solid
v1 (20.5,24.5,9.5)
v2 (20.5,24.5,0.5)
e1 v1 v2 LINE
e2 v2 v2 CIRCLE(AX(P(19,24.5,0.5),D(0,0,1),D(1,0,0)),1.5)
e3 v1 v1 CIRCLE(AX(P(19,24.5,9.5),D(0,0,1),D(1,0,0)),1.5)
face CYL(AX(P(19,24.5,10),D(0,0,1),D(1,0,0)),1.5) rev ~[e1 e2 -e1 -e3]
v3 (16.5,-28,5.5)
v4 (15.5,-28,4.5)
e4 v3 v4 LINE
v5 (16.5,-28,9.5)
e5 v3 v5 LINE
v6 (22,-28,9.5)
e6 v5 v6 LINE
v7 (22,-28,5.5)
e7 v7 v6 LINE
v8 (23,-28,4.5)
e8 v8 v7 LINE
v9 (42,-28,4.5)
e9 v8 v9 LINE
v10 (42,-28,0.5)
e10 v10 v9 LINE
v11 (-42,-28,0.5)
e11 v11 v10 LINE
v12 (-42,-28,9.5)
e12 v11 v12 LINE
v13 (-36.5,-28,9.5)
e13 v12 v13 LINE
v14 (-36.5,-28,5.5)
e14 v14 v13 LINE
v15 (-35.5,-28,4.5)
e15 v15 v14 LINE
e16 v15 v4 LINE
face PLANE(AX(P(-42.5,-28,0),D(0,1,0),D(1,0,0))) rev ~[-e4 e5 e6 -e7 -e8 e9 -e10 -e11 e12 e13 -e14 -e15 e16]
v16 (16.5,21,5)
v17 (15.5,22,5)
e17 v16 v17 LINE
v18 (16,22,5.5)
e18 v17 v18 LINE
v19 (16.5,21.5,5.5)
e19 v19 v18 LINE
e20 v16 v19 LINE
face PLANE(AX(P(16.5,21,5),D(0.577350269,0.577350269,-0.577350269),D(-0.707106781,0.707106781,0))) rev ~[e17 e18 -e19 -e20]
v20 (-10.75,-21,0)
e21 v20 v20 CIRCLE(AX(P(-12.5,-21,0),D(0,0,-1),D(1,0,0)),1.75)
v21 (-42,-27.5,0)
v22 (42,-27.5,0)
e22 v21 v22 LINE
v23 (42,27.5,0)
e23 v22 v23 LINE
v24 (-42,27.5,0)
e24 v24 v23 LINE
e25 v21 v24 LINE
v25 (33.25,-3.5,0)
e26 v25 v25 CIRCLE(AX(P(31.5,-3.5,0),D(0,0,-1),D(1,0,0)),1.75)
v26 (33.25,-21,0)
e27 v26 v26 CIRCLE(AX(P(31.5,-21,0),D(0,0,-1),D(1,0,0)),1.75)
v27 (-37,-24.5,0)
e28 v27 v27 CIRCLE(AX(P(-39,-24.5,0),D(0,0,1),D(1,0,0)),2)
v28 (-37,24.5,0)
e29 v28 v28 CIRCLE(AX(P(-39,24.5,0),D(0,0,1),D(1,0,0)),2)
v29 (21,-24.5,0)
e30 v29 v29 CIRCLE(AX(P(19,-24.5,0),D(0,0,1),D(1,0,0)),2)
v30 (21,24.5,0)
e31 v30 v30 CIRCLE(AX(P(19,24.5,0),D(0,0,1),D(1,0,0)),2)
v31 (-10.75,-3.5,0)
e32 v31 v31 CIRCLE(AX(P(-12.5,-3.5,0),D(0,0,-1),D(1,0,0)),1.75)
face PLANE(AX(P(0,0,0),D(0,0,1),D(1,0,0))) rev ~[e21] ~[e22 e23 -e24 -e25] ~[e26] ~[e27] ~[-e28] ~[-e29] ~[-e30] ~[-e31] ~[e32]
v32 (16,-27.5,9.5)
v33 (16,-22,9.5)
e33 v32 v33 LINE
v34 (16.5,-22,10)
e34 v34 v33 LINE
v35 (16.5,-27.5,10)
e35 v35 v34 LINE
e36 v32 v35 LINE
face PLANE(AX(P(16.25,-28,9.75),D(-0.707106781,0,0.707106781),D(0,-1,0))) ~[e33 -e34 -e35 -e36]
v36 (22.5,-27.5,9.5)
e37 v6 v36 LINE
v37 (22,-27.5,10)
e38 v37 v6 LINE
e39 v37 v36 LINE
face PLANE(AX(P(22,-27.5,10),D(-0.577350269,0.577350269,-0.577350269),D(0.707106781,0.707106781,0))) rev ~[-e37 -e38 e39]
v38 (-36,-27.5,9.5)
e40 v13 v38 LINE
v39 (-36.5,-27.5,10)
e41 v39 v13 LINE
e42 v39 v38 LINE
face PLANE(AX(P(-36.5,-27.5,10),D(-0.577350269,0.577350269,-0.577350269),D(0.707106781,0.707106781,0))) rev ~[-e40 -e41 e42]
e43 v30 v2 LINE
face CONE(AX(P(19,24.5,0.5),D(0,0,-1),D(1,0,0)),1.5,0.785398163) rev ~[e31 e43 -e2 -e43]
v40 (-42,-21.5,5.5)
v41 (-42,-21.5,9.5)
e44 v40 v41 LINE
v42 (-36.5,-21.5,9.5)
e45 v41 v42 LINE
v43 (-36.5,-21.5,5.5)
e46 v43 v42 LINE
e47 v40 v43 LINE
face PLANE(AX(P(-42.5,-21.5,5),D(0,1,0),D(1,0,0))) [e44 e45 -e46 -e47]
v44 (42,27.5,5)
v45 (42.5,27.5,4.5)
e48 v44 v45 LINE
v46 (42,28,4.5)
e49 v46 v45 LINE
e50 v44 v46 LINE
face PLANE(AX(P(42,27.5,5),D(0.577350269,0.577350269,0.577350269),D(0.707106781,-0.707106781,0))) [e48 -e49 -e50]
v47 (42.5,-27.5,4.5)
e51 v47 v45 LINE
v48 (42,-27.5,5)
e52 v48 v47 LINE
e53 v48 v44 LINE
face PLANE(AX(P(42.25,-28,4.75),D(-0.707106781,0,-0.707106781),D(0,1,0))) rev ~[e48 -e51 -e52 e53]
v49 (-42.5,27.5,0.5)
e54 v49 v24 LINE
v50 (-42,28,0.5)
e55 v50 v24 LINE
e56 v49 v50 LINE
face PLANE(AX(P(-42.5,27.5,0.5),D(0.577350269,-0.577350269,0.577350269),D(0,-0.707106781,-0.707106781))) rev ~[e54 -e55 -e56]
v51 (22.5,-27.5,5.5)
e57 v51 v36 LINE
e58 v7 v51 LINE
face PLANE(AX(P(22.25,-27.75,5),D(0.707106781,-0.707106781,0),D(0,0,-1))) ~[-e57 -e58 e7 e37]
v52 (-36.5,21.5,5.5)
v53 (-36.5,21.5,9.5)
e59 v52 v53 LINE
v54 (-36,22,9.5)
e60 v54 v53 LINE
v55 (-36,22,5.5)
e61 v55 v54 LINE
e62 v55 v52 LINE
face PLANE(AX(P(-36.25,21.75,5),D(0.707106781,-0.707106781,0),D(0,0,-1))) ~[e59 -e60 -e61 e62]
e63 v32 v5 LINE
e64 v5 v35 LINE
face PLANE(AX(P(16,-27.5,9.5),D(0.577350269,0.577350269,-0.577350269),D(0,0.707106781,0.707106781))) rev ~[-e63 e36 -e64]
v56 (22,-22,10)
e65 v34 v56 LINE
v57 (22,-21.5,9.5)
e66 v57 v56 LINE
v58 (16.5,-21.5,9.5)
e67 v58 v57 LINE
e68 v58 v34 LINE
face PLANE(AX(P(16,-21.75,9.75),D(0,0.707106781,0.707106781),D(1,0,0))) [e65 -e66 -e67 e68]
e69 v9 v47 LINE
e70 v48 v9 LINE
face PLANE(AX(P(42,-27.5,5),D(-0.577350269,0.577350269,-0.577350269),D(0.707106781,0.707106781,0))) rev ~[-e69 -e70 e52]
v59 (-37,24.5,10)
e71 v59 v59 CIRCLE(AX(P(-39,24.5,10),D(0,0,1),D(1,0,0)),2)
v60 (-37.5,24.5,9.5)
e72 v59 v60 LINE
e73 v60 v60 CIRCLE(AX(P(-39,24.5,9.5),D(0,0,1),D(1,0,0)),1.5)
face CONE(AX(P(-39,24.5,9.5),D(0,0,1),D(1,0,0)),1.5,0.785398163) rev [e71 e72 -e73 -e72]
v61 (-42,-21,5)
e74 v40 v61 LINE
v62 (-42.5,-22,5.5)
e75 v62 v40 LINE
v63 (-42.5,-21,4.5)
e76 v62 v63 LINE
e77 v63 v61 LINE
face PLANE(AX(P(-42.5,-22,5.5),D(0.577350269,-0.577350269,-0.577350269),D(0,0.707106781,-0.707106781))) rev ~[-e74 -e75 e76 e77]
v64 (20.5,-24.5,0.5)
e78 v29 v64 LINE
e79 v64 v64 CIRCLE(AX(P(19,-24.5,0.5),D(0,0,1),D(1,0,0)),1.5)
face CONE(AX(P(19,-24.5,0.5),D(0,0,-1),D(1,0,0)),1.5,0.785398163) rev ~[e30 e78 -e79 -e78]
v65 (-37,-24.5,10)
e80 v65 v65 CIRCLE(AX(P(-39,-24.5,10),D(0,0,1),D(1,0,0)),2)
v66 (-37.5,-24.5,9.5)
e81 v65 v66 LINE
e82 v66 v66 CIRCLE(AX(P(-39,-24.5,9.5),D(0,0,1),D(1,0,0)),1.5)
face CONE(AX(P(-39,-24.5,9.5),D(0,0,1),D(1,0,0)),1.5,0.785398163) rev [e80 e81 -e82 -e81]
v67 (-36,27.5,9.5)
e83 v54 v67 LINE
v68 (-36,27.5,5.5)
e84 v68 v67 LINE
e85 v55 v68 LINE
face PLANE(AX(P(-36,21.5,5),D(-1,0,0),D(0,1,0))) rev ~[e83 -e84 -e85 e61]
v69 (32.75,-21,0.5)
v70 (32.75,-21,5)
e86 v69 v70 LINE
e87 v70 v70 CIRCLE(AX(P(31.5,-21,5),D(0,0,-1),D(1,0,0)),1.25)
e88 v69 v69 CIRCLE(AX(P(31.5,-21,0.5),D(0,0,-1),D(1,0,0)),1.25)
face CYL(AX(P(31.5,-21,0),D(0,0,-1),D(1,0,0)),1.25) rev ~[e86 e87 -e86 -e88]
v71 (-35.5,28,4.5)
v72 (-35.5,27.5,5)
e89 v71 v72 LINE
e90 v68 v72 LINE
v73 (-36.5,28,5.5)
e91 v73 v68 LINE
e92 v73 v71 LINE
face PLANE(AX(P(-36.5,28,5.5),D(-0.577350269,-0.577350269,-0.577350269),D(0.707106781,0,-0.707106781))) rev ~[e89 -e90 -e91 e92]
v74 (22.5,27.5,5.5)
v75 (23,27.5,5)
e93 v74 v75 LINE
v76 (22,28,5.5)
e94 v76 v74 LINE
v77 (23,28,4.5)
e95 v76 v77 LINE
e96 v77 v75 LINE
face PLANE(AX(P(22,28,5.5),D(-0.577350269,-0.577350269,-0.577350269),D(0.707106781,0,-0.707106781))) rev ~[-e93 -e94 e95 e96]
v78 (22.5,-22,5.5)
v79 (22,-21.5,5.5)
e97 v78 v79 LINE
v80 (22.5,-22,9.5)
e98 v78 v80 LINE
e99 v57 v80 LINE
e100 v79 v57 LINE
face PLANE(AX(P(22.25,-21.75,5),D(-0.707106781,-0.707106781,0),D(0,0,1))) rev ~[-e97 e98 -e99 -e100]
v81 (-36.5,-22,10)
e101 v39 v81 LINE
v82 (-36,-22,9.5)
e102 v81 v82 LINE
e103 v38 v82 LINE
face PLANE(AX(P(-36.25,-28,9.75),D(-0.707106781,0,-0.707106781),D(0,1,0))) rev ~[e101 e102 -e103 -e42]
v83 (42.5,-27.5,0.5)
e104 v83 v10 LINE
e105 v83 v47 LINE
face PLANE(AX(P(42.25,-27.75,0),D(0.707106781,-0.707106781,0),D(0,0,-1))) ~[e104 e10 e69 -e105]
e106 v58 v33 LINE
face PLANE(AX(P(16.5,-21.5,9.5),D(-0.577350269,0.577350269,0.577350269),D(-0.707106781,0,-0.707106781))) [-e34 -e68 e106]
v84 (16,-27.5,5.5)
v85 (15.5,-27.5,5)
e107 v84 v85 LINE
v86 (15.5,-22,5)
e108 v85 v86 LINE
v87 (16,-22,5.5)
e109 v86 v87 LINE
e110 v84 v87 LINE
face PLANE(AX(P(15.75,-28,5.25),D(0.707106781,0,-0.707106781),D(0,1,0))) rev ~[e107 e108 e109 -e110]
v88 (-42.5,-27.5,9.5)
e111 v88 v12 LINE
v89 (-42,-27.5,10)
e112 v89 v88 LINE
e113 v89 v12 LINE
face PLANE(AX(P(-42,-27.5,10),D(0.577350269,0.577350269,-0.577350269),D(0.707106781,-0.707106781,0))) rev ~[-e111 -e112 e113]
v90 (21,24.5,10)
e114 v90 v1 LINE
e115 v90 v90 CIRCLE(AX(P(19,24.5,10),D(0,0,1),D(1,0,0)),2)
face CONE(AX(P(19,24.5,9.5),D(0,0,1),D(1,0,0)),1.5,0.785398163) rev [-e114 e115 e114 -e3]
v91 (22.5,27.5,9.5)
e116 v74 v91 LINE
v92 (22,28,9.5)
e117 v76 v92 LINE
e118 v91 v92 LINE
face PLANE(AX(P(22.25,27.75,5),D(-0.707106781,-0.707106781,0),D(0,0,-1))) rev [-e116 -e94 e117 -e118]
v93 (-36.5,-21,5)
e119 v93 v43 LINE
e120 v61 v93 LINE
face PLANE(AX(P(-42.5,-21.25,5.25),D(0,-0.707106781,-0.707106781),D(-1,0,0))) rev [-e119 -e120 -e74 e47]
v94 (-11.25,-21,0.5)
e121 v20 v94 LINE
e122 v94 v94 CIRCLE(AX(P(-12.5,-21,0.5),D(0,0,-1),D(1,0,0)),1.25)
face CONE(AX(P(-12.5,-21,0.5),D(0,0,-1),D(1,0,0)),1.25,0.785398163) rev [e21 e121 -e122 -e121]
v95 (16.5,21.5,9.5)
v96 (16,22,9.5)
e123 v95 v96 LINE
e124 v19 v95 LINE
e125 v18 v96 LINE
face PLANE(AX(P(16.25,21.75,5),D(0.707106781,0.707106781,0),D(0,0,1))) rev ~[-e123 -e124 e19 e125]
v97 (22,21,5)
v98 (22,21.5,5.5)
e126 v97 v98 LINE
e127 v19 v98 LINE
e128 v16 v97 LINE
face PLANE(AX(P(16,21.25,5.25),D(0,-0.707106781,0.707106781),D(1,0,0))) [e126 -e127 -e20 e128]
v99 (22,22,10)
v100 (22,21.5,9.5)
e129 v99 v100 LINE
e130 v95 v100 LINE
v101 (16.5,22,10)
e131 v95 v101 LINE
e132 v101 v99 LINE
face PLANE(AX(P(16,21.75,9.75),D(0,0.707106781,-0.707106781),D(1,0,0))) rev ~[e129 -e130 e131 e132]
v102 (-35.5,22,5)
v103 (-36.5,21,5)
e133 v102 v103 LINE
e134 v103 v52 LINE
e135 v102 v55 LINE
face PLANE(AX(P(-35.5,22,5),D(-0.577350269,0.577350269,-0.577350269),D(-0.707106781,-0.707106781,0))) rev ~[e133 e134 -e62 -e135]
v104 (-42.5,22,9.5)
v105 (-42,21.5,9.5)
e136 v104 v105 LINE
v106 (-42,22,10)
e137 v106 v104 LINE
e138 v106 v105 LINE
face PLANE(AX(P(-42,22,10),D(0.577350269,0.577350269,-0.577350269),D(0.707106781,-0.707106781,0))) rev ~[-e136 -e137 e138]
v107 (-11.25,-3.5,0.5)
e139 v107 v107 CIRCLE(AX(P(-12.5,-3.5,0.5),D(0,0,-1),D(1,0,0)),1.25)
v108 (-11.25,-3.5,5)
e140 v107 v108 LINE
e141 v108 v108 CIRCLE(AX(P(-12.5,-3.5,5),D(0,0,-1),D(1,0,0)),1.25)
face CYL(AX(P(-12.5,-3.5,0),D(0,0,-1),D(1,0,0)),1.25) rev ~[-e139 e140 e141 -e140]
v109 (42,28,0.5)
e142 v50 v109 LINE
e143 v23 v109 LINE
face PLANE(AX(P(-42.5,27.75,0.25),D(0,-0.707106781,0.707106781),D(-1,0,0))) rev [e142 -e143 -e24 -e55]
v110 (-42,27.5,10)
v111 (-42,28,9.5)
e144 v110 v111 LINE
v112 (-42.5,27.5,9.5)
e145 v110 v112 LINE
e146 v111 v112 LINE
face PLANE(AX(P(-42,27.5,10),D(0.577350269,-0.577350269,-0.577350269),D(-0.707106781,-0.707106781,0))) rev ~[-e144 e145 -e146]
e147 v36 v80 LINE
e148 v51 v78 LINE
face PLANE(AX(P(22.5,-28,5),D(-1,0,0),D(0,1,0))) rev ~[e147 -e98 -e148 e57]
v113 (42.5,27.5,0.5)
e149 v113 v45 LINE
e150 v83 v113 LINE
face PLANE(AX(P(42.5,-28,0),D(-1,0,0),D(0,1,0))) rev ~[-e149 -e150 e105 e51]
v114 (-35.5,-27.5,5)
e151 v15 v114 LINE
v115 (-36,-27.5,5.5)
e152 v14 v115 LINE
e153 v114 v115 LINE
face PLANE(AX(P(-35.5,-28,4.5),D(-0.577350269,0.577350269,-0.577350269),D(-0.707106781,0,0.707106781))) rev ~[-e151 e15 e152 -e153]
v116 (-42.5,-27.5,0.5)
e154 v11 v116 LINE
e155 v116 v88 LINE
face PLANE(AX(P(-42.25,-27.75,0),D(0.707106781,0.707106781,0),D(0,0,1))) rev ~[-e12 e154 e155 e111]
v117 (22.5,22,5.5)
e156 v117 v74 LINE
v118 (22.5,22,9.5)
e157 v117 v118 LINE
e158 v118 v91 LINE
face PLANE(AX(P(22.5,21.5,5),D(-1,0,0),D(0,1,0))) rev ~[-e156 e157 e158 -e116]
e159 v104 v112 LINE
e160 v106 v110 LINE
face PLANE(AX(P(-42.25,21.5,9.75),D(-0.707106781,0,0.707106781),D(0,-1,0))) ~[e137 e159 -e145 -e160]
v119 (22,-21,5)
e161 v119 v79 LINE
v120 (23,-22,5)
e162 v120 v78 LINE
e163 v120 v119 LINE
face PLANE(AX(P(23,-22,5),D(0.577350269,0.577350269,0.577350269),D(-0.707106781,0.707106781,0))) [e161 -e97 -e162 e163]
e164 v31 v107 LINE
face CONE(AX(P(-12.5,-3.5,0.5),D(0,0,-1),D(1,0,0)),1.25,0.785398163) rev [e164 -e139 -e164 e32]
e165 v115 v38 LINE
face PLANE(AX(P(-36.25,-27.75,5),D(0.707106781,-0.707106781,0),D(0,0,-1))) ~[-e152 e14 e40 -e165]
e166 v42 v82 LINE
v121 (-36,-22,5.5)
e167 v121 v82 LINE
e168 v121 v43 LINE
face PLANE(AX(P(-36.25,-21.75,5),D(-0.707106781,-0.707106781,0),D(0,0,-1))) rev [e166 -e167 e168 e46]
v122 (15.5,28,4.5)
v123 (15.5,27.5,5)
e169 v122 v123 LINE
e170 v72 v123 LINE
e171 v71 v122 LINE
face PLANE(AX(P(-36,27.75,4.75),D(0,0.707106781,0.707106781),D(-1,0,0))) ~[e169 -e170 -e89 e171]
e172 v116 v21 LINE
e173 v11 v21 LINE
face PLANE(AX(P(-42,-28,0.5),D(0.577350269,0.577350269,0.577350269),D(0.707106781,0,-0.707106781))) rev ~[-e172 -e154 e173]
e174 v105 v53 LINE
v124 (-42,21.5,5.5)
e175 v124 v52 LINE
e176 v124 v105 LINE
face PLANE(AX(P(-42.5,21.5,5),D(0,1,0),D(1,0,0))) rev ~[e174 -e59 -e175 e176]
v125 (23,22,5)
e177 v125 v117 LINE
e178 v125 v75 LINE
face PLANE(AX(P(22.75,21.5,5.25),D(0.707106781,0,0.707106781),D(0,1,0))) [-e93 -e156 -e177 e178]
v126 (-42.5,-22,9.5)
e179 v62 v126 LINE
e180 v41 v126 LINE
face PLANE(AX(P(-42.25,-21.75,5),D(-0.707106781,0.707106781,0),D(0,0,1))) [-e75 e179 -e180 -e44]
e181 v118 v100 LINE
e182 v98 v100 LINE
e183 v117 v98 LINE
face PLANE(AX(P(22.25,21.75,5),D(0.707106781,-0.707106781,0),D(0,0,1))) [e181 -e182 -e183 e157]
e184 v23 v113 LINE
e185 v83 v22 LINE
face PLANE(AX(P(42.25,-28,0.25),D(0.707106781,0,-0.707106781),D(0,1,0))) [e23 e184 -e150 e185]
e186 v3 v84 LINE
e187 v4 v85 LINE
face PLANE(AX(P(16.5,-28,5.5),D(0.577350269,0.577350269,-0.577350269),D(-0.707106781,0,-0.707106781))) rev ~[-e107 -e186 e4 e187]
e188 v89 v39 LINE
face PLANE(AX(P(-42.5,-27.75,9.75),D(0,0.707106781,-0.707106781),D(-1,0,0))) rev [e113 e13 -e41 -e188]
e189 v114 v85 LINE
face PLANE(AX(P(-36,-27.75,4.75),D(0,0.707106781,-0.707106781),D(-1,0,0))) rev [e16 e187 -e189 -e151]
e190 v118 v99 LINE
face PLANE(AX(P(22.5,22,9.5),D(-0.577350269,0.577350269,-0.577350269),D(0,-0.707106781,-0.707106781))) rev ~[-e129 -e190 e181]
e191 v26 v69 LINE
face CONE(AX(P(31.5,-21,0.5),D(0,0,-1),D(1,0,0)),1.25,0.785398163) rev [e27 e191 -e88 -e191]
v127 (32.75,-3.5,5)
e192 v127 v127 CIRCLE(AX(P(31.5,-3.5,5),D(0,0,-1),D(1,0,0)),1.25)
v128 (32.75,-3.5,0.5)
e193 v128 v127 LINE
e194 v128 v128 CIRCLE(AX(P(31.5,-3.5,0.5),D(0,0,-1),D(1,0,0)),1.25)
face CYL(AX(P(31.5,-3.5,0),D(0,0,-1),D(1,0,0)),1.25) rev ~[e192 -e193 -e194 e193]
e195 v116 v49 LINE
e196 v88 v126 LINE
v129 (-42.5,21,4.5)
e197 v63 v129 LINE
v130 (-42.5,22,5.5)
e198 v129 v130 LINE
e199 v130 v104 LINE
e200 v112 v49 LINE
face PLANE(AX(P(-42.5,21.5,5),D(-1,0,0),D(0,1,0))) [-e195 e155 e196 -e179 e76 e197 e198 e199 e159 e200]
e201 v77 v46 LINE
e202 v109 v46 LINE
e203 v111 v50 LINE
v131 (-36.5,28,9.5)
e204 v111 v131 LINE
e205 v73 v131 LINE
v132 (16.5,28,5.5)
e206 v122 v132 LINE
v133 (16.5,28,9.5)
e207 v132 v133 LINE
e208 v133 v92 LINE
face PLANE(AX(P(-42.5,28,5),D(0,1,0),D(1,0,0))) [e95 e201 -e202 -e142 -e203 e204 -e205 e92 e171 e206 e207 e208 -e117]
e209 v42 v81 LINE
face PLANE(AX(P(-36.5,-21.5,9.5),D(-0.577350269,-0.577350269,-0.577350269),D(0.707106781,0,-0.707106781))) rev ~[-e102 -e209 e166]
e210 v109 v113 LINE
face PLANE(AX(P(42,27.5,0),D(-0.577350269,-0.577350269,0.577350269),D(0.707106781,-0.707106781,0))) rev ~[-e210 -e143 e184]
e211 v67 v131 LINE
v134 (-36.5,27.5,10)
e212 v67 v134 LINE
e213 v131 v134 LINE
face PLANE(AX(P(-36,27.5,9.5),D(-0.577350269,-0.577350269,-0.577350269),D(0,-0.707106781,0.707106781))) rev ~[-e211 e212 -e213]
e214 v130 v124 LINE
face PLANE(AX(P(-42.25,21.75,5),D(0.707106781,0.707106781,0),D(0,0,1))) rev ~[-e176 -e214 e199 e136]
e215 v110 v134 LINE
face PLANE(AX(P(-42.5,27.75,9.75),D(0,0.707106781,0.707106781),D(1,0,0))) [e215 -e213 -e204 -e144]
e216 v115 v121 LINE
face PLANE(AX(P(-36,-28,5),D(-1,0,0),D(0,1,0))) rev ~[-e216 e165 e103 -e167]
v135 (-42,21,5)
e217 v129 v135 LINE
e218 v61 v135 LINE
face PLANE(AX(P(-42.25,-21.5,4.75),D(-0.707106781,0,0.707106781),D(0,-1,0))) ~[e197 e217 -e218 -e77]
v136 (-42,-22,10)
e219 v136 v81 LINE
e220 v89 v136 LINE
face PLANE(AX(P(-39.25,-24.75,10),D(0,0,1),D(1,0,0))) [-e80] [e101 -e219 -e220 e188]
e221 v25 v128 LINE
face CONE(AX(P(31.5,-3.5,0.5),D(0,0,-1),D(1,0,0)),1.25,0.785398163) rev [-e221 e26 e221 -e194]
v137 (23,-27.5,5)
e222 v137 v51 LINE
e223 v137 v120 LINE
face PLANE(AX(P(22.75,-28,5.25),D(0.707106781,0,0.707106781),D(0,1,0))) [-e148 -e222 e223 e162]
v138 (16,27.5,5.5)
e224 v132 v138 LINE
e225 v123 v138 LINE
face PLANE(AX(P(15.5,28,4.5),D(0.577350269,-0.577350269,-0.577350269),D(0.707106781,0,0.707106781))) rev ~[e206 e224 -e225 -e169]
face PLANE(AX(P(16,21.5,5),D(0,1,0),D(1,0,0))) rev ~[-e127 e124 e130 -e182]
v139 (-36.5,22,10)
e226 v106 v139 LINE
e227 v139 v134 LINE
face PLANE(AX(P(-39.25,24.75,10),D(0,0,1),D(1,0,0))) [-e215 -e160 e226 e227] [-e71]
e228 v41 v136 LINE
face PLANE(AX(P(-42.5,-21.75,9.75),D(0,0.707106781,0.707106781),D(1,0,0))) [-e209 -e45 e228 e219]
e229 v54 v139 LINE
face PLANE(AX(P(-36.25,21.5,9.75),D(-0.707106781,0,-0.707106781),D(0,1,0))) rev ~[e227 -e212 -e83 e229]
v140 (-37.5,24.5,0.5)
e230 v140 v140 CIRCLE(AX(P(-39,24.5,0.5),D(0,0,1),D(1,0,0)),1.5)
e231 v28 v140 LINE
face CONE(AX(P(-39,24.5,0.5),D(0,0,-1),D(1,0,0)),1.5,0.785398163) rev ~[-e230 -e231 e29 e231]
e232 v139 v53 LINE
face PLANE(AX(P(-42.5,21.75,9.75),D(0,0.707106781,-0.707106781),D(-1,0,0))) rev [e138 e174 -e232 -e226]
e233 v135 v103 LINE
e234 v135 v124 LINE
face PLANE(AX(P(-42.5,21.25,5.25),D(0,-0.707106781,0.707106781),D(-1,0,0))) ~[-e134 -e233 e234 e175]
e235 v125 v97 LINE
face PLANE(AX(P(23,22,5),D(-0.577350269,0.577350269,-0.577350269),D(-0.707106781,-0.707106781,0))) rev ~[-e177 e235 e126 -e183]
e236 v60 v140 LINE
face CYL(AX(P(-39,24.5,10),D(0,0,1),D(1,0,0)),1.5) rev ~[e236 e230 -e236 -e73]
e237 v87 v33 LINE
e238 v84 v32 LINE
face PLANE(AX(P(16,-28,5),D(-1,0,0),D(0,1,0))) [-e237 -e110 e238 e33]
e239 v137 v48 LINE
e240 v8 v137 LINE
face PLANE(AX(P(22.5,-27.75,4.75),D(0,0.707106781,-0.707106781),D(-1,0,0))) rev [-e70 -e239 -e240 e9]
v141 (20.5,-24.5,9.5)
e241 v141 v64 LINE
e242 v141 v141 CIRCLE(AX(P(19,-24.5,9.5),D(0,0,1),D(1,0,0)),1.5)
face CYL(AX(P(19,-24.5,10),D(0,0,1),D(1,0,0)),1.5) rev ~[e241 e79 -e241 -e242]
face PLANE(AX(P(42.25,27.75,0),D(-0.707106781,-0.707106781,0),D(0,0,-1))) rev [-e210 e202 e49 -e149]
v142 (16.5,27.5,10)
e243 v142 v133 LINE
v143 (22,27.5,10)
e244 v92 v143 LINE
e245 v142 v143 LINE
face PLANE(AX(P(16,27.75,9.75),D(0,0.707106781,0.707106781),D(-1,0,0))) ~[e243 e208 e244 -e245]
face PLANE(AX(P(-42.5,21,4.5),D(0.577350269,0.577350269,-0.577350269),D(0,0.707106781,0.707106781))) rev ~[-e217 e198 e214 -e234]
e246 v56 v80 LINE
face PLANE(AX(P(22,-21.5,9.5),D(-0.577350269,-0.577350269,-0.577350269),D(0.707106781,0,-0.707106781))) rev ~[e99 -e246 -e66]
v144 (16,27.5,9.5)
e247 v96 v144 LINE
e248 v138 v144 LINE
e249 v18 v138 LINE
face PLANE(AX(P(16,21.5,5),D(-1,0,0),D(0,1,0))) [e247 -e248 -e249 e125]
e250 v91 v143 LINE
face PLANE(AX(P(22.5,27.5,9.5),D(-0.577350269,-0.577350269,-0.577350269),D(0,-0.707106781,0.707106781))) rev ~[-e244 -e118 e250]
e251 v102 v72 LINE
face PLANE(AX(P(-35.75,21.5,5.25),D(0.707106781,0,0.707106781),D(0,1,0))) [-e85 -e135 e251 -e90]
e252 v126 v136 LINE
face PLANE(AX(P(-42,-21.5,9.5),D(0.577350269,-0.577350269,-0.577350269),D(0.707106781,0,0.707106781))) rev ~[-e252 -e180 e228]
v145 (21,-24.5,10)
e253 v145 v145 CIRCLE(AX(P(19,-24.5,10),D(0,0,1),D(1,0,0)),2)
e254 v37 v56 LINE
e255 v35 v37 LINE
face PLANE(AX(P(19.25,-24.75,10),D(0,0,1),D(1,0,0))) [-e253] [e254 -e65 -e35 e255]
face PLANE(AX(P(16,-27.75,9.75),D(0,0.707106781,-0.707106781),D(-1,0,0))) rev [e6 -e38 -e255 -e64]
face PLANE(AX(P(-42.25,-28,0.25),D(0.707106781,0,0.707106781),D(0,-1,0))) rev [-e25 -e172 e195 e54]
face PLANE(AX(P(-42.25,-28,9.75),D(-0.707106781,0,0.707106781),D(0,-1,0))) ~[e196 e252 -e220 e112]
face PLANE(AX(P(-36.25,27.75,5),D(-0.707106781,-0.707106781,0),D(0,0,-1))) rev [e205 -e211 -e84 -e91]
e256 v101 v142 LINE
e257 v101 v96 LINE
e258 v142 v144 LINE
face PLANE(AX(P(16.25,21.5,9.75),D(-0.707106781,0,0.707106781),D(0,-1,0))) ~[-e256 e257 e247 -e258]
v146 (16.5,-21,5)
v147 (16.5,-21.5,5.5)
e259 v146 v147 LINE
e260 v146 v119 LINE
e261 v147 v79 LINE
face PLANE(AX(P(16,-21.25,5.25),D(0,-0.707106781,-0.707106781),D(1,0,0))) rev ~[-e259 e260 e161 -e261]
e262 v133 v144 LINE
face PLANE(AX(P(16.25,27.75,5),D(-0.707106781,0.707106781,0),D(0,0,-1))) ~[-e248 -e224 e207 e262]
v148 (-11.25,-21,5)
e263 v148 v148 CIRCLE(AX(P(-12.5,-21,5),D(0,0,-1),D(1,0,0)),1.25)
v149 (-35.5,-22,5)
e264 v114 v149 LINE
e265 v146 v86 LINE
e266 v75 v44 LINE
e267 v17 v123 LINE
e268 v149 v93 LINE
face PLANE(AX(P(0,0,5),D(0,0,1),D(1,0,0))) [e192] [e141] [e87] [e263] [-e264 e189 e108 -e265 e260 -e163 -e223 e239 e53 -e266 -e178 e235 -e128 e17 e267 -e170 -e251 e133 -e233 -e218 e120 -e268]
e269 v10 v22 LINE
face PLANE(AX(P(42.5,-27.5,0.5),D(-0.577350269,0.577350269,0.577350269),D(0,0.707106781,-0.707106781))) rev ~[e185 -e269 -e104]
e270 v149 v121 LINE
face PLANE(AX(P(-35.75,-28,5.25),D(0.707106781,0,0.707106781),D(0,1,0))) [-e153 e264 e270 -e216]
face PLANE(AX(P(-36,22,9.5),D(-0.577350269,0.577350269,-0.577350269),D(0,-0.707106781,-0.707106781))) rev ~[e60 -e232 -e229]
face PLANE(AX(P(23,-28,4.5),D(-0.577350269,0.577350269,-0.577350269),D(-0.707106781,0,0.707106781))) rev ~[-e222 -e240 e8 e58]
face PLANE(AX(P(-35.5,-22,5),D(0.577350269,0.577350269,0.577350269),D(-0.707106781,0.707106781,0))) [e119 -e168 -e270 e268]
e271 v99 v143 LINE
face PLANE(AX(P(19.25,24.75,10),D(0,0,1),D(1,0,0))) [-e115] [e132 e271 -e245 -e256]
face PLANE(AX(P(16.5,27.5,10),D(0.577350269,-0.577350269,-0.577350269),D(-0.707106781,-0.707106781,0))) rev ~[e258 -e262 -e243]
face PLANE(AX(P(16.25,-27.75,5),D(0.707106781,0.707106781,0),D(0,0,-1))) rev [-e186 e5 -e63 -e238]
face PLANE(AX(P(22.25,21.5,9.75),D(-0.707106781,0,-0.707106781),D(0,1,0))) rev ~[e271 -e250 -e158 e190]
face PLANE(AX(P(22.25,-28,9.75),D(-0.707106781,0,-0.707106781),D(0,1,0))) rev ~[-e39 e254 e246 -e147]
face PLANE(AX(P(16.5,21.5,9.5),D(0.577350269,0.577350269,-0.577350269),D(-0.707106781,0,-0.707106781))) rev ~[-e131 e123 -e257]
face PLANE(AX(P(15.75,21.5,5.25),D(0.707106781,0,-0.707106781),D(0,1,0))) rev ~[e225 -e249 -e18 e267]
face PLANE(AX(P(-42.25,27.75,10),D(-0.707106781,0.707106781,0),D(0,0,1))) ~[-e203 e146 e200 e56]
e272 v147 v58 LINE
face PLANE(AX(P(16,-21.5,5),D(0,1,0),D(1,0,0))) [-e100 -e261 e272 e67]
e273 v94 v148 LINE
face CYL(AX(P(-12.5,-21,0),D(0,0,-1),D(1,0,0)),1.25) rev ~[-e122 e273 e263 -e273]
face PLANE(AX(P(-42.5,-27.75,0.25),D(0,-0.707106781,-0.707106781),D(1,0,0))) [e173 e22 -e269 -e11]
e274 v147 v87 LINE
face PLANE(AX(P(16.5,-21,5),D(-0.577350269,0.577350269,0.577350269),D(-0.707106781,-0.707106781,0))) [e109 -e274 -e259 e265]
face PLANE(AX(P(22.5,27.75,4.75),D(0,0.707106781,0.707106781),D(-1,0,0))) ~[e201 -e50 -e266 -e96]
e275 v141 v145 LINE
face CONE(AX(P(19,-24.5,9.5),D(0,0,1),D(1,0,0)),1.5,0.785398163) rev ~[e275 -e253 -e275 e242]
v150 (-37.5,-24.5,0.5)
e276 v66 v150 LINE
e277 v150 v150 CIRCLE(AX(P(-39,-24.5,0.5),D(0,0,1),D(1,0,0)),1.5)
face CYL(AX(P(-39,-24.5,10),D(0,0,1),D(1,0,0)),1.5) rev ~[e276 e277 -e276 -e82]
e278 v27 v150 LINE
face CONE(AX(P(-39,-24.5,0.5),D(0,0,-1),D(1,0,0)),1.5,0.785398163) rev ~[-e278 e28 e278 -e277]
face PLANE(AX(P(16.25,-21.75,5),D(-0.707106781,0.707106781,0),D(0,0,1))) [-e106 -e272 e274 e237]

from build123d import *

# Parameters (mm, degrees)
SKETCH_W        = 85
SKETCH_H        = 56
PAD_DEPTH       = 5
SKETCH001_W     = 6.5
SKETCH001_H     = 6.5
PAD001_DEPTH    = 5
SKETCH002_R     = 1.5
POCKET_DEPTH    = 10.001
SKETCH003_R     = 1.25
POCKET001_DEPTH = 10.001
CHAMFER_SIZE    = 0.5


with BuildPart() as part:
    # Sketch (on XY_Plane of Origin) → Pad (new body)
    with BuildSketch(Plane.XY):
        Rectangle(SKETCH_W, SKETCH_H)
    extrude(amount=PAD_DEPTH)

    # Sketch001 (on Face6 of Pad) → Pad001 (join)
    with BuildSketch(Plane.XY.offset(5)):
        with Locations((-39.25, 24.75)):
            Rectangle(SKETCH001_W, SKETCH001_H)
        with Locations((-39.25, -24.75)):
            Rectangle(SKETCH001_W, SKETCH001_H)
        with Locations((19.25, 24.75)):
            Rectangle(SKETCH001_W, SKETCH001_H)
        with Locations((19.25, -24.75)):
            Rectangle(SKETCH001_W, SKETCH001_H)
    extrude(amount=PAD001_DEPTH)

    # Sketch002 (on Face5 of Pad001) → Pocket (cut, through all)
    with BuildSketch(Plane.XY.offset(10)):
        with Locations((-39, 24.5)):
            Circle(SKETCH002_R)
        with Locations((-39, -24.5)):
            Circle(SKETCH002_R)
        with Locations((19, 24.5)):
            Circle(SKETCH002_R)
        with Locations((19, -24.5)):
            Circle(SKETCH002_R)
    extrude(amount=-POCKET_DEPTH, mode=Mode.SUBTRACT)

    # Sketch003 (on Face1 of Pocket) → Pocket001 (cut, through all)
    with BuildSketch(Plane(origin=(0, 0, 0), x_dir=(1, 0, 0), z_dir=(0, 0, -1))):
        with Locations((31.5, 21)):
            Circle(SKETCH003_R)
        with Locations((31.5, 3.5)):
            Circle(SKETCH003_R)
        with Locations((-12.5, 21)):
            Circle(SKETCH003_R)
        with Locations((-12.5, 3.5)):
            Circle(SKETCH003_R)
    extrude(amount=-POCKET001_DEPTH, mode=Mode.SUBTRACT)

    # Chamfer
    chamfer_edges = [part.edges().sort_by_distance(p)[0] for p in [
        (42.5, 28, 2.5),
        (0, 28, 0),
        (-42.5, 28, 5),
        (-39.25, 28, 10),
        (-36, 28, 7.5),
        (-10, 28, 5),
        (16, 28, 7.5),
        (19.25, 28, 10),
        (22.5, 28, 7.5),
        (32.5, 28, 5),
        (-42.5, 0, 0),
        (-42.5, -28, 5),
        (-42.5, -24.75, 10),
        (-42.5, -21.5, 7.5),
        (-42.5, 0, 5),
        (-42.5, 21.5, 7.5),
        (-42.5, 24.75, 10),
        (0, -28, 0),
        (42.5, -28, 2.5),
        (32.5, -28, 5),
        (22.5, -28, 7.5),
        (19.25, -28, 10),
        (16, -28, 7.5),
        (-10, -28, 5),
        (-36, -28, 7.5),
        (-39.25, -28, 10),
        (42.5, 0, 0),
        (42.5, 0, 5),
        (-36, -24.75, 10),
        (-39.25, -21.5, 10),
        (-40.5, -24.5, 10),
        (-39.25, 21.5, 10),
        (-36, 24.75, 10),
        (-40.5, 24.5, 10),
        (16, 24.75, 10),
        (19.25, 21.5, 10),
        (22.5, 24.75, 10),
        (17.5, 24.5, 10),
        (16, -24.75, 10),
        (22.5, -24.75, 10),
        (19.25, -21.5, 10),
        (17.5, -24.5, 10),
        (22.5, -21.5, 7.5),
        (22.5, -24.75, 5),
        (16, -21.5, 7.5),
        (19.25, -21.5, 5),
        (16, -24.75, 5),
        (-36, -21.5, 7.5),
        (-36, -24.75, 5),
        (-39.25, -21.5, 5),
        (-36, 21.5, 7.5),
        (-36, 24.75, 5),
        (-39.25, 21.5, 5),
        (22.5, 21.5, 7.5),
        (22.5, 24.75, 5),
        (16, 21.5, 7.5),
        (19.25, 21.5, 5),
        (16, 24.75, 5),
        (17.5, -24.5, 0),
        (-40.5, -24.5, 0),
        (-13.75, -21, 0),
        (-13.75, -3.5, 0),
        (30.25, -3.5, 0),
        (30.25, -21, 0),
        (17.5, 24.5, 0),
        (-40.5, 24.5, 0),
    ]]
    chamfer(chamfer_edges, length=CHAMFER_SIZE)


solid = part.part
